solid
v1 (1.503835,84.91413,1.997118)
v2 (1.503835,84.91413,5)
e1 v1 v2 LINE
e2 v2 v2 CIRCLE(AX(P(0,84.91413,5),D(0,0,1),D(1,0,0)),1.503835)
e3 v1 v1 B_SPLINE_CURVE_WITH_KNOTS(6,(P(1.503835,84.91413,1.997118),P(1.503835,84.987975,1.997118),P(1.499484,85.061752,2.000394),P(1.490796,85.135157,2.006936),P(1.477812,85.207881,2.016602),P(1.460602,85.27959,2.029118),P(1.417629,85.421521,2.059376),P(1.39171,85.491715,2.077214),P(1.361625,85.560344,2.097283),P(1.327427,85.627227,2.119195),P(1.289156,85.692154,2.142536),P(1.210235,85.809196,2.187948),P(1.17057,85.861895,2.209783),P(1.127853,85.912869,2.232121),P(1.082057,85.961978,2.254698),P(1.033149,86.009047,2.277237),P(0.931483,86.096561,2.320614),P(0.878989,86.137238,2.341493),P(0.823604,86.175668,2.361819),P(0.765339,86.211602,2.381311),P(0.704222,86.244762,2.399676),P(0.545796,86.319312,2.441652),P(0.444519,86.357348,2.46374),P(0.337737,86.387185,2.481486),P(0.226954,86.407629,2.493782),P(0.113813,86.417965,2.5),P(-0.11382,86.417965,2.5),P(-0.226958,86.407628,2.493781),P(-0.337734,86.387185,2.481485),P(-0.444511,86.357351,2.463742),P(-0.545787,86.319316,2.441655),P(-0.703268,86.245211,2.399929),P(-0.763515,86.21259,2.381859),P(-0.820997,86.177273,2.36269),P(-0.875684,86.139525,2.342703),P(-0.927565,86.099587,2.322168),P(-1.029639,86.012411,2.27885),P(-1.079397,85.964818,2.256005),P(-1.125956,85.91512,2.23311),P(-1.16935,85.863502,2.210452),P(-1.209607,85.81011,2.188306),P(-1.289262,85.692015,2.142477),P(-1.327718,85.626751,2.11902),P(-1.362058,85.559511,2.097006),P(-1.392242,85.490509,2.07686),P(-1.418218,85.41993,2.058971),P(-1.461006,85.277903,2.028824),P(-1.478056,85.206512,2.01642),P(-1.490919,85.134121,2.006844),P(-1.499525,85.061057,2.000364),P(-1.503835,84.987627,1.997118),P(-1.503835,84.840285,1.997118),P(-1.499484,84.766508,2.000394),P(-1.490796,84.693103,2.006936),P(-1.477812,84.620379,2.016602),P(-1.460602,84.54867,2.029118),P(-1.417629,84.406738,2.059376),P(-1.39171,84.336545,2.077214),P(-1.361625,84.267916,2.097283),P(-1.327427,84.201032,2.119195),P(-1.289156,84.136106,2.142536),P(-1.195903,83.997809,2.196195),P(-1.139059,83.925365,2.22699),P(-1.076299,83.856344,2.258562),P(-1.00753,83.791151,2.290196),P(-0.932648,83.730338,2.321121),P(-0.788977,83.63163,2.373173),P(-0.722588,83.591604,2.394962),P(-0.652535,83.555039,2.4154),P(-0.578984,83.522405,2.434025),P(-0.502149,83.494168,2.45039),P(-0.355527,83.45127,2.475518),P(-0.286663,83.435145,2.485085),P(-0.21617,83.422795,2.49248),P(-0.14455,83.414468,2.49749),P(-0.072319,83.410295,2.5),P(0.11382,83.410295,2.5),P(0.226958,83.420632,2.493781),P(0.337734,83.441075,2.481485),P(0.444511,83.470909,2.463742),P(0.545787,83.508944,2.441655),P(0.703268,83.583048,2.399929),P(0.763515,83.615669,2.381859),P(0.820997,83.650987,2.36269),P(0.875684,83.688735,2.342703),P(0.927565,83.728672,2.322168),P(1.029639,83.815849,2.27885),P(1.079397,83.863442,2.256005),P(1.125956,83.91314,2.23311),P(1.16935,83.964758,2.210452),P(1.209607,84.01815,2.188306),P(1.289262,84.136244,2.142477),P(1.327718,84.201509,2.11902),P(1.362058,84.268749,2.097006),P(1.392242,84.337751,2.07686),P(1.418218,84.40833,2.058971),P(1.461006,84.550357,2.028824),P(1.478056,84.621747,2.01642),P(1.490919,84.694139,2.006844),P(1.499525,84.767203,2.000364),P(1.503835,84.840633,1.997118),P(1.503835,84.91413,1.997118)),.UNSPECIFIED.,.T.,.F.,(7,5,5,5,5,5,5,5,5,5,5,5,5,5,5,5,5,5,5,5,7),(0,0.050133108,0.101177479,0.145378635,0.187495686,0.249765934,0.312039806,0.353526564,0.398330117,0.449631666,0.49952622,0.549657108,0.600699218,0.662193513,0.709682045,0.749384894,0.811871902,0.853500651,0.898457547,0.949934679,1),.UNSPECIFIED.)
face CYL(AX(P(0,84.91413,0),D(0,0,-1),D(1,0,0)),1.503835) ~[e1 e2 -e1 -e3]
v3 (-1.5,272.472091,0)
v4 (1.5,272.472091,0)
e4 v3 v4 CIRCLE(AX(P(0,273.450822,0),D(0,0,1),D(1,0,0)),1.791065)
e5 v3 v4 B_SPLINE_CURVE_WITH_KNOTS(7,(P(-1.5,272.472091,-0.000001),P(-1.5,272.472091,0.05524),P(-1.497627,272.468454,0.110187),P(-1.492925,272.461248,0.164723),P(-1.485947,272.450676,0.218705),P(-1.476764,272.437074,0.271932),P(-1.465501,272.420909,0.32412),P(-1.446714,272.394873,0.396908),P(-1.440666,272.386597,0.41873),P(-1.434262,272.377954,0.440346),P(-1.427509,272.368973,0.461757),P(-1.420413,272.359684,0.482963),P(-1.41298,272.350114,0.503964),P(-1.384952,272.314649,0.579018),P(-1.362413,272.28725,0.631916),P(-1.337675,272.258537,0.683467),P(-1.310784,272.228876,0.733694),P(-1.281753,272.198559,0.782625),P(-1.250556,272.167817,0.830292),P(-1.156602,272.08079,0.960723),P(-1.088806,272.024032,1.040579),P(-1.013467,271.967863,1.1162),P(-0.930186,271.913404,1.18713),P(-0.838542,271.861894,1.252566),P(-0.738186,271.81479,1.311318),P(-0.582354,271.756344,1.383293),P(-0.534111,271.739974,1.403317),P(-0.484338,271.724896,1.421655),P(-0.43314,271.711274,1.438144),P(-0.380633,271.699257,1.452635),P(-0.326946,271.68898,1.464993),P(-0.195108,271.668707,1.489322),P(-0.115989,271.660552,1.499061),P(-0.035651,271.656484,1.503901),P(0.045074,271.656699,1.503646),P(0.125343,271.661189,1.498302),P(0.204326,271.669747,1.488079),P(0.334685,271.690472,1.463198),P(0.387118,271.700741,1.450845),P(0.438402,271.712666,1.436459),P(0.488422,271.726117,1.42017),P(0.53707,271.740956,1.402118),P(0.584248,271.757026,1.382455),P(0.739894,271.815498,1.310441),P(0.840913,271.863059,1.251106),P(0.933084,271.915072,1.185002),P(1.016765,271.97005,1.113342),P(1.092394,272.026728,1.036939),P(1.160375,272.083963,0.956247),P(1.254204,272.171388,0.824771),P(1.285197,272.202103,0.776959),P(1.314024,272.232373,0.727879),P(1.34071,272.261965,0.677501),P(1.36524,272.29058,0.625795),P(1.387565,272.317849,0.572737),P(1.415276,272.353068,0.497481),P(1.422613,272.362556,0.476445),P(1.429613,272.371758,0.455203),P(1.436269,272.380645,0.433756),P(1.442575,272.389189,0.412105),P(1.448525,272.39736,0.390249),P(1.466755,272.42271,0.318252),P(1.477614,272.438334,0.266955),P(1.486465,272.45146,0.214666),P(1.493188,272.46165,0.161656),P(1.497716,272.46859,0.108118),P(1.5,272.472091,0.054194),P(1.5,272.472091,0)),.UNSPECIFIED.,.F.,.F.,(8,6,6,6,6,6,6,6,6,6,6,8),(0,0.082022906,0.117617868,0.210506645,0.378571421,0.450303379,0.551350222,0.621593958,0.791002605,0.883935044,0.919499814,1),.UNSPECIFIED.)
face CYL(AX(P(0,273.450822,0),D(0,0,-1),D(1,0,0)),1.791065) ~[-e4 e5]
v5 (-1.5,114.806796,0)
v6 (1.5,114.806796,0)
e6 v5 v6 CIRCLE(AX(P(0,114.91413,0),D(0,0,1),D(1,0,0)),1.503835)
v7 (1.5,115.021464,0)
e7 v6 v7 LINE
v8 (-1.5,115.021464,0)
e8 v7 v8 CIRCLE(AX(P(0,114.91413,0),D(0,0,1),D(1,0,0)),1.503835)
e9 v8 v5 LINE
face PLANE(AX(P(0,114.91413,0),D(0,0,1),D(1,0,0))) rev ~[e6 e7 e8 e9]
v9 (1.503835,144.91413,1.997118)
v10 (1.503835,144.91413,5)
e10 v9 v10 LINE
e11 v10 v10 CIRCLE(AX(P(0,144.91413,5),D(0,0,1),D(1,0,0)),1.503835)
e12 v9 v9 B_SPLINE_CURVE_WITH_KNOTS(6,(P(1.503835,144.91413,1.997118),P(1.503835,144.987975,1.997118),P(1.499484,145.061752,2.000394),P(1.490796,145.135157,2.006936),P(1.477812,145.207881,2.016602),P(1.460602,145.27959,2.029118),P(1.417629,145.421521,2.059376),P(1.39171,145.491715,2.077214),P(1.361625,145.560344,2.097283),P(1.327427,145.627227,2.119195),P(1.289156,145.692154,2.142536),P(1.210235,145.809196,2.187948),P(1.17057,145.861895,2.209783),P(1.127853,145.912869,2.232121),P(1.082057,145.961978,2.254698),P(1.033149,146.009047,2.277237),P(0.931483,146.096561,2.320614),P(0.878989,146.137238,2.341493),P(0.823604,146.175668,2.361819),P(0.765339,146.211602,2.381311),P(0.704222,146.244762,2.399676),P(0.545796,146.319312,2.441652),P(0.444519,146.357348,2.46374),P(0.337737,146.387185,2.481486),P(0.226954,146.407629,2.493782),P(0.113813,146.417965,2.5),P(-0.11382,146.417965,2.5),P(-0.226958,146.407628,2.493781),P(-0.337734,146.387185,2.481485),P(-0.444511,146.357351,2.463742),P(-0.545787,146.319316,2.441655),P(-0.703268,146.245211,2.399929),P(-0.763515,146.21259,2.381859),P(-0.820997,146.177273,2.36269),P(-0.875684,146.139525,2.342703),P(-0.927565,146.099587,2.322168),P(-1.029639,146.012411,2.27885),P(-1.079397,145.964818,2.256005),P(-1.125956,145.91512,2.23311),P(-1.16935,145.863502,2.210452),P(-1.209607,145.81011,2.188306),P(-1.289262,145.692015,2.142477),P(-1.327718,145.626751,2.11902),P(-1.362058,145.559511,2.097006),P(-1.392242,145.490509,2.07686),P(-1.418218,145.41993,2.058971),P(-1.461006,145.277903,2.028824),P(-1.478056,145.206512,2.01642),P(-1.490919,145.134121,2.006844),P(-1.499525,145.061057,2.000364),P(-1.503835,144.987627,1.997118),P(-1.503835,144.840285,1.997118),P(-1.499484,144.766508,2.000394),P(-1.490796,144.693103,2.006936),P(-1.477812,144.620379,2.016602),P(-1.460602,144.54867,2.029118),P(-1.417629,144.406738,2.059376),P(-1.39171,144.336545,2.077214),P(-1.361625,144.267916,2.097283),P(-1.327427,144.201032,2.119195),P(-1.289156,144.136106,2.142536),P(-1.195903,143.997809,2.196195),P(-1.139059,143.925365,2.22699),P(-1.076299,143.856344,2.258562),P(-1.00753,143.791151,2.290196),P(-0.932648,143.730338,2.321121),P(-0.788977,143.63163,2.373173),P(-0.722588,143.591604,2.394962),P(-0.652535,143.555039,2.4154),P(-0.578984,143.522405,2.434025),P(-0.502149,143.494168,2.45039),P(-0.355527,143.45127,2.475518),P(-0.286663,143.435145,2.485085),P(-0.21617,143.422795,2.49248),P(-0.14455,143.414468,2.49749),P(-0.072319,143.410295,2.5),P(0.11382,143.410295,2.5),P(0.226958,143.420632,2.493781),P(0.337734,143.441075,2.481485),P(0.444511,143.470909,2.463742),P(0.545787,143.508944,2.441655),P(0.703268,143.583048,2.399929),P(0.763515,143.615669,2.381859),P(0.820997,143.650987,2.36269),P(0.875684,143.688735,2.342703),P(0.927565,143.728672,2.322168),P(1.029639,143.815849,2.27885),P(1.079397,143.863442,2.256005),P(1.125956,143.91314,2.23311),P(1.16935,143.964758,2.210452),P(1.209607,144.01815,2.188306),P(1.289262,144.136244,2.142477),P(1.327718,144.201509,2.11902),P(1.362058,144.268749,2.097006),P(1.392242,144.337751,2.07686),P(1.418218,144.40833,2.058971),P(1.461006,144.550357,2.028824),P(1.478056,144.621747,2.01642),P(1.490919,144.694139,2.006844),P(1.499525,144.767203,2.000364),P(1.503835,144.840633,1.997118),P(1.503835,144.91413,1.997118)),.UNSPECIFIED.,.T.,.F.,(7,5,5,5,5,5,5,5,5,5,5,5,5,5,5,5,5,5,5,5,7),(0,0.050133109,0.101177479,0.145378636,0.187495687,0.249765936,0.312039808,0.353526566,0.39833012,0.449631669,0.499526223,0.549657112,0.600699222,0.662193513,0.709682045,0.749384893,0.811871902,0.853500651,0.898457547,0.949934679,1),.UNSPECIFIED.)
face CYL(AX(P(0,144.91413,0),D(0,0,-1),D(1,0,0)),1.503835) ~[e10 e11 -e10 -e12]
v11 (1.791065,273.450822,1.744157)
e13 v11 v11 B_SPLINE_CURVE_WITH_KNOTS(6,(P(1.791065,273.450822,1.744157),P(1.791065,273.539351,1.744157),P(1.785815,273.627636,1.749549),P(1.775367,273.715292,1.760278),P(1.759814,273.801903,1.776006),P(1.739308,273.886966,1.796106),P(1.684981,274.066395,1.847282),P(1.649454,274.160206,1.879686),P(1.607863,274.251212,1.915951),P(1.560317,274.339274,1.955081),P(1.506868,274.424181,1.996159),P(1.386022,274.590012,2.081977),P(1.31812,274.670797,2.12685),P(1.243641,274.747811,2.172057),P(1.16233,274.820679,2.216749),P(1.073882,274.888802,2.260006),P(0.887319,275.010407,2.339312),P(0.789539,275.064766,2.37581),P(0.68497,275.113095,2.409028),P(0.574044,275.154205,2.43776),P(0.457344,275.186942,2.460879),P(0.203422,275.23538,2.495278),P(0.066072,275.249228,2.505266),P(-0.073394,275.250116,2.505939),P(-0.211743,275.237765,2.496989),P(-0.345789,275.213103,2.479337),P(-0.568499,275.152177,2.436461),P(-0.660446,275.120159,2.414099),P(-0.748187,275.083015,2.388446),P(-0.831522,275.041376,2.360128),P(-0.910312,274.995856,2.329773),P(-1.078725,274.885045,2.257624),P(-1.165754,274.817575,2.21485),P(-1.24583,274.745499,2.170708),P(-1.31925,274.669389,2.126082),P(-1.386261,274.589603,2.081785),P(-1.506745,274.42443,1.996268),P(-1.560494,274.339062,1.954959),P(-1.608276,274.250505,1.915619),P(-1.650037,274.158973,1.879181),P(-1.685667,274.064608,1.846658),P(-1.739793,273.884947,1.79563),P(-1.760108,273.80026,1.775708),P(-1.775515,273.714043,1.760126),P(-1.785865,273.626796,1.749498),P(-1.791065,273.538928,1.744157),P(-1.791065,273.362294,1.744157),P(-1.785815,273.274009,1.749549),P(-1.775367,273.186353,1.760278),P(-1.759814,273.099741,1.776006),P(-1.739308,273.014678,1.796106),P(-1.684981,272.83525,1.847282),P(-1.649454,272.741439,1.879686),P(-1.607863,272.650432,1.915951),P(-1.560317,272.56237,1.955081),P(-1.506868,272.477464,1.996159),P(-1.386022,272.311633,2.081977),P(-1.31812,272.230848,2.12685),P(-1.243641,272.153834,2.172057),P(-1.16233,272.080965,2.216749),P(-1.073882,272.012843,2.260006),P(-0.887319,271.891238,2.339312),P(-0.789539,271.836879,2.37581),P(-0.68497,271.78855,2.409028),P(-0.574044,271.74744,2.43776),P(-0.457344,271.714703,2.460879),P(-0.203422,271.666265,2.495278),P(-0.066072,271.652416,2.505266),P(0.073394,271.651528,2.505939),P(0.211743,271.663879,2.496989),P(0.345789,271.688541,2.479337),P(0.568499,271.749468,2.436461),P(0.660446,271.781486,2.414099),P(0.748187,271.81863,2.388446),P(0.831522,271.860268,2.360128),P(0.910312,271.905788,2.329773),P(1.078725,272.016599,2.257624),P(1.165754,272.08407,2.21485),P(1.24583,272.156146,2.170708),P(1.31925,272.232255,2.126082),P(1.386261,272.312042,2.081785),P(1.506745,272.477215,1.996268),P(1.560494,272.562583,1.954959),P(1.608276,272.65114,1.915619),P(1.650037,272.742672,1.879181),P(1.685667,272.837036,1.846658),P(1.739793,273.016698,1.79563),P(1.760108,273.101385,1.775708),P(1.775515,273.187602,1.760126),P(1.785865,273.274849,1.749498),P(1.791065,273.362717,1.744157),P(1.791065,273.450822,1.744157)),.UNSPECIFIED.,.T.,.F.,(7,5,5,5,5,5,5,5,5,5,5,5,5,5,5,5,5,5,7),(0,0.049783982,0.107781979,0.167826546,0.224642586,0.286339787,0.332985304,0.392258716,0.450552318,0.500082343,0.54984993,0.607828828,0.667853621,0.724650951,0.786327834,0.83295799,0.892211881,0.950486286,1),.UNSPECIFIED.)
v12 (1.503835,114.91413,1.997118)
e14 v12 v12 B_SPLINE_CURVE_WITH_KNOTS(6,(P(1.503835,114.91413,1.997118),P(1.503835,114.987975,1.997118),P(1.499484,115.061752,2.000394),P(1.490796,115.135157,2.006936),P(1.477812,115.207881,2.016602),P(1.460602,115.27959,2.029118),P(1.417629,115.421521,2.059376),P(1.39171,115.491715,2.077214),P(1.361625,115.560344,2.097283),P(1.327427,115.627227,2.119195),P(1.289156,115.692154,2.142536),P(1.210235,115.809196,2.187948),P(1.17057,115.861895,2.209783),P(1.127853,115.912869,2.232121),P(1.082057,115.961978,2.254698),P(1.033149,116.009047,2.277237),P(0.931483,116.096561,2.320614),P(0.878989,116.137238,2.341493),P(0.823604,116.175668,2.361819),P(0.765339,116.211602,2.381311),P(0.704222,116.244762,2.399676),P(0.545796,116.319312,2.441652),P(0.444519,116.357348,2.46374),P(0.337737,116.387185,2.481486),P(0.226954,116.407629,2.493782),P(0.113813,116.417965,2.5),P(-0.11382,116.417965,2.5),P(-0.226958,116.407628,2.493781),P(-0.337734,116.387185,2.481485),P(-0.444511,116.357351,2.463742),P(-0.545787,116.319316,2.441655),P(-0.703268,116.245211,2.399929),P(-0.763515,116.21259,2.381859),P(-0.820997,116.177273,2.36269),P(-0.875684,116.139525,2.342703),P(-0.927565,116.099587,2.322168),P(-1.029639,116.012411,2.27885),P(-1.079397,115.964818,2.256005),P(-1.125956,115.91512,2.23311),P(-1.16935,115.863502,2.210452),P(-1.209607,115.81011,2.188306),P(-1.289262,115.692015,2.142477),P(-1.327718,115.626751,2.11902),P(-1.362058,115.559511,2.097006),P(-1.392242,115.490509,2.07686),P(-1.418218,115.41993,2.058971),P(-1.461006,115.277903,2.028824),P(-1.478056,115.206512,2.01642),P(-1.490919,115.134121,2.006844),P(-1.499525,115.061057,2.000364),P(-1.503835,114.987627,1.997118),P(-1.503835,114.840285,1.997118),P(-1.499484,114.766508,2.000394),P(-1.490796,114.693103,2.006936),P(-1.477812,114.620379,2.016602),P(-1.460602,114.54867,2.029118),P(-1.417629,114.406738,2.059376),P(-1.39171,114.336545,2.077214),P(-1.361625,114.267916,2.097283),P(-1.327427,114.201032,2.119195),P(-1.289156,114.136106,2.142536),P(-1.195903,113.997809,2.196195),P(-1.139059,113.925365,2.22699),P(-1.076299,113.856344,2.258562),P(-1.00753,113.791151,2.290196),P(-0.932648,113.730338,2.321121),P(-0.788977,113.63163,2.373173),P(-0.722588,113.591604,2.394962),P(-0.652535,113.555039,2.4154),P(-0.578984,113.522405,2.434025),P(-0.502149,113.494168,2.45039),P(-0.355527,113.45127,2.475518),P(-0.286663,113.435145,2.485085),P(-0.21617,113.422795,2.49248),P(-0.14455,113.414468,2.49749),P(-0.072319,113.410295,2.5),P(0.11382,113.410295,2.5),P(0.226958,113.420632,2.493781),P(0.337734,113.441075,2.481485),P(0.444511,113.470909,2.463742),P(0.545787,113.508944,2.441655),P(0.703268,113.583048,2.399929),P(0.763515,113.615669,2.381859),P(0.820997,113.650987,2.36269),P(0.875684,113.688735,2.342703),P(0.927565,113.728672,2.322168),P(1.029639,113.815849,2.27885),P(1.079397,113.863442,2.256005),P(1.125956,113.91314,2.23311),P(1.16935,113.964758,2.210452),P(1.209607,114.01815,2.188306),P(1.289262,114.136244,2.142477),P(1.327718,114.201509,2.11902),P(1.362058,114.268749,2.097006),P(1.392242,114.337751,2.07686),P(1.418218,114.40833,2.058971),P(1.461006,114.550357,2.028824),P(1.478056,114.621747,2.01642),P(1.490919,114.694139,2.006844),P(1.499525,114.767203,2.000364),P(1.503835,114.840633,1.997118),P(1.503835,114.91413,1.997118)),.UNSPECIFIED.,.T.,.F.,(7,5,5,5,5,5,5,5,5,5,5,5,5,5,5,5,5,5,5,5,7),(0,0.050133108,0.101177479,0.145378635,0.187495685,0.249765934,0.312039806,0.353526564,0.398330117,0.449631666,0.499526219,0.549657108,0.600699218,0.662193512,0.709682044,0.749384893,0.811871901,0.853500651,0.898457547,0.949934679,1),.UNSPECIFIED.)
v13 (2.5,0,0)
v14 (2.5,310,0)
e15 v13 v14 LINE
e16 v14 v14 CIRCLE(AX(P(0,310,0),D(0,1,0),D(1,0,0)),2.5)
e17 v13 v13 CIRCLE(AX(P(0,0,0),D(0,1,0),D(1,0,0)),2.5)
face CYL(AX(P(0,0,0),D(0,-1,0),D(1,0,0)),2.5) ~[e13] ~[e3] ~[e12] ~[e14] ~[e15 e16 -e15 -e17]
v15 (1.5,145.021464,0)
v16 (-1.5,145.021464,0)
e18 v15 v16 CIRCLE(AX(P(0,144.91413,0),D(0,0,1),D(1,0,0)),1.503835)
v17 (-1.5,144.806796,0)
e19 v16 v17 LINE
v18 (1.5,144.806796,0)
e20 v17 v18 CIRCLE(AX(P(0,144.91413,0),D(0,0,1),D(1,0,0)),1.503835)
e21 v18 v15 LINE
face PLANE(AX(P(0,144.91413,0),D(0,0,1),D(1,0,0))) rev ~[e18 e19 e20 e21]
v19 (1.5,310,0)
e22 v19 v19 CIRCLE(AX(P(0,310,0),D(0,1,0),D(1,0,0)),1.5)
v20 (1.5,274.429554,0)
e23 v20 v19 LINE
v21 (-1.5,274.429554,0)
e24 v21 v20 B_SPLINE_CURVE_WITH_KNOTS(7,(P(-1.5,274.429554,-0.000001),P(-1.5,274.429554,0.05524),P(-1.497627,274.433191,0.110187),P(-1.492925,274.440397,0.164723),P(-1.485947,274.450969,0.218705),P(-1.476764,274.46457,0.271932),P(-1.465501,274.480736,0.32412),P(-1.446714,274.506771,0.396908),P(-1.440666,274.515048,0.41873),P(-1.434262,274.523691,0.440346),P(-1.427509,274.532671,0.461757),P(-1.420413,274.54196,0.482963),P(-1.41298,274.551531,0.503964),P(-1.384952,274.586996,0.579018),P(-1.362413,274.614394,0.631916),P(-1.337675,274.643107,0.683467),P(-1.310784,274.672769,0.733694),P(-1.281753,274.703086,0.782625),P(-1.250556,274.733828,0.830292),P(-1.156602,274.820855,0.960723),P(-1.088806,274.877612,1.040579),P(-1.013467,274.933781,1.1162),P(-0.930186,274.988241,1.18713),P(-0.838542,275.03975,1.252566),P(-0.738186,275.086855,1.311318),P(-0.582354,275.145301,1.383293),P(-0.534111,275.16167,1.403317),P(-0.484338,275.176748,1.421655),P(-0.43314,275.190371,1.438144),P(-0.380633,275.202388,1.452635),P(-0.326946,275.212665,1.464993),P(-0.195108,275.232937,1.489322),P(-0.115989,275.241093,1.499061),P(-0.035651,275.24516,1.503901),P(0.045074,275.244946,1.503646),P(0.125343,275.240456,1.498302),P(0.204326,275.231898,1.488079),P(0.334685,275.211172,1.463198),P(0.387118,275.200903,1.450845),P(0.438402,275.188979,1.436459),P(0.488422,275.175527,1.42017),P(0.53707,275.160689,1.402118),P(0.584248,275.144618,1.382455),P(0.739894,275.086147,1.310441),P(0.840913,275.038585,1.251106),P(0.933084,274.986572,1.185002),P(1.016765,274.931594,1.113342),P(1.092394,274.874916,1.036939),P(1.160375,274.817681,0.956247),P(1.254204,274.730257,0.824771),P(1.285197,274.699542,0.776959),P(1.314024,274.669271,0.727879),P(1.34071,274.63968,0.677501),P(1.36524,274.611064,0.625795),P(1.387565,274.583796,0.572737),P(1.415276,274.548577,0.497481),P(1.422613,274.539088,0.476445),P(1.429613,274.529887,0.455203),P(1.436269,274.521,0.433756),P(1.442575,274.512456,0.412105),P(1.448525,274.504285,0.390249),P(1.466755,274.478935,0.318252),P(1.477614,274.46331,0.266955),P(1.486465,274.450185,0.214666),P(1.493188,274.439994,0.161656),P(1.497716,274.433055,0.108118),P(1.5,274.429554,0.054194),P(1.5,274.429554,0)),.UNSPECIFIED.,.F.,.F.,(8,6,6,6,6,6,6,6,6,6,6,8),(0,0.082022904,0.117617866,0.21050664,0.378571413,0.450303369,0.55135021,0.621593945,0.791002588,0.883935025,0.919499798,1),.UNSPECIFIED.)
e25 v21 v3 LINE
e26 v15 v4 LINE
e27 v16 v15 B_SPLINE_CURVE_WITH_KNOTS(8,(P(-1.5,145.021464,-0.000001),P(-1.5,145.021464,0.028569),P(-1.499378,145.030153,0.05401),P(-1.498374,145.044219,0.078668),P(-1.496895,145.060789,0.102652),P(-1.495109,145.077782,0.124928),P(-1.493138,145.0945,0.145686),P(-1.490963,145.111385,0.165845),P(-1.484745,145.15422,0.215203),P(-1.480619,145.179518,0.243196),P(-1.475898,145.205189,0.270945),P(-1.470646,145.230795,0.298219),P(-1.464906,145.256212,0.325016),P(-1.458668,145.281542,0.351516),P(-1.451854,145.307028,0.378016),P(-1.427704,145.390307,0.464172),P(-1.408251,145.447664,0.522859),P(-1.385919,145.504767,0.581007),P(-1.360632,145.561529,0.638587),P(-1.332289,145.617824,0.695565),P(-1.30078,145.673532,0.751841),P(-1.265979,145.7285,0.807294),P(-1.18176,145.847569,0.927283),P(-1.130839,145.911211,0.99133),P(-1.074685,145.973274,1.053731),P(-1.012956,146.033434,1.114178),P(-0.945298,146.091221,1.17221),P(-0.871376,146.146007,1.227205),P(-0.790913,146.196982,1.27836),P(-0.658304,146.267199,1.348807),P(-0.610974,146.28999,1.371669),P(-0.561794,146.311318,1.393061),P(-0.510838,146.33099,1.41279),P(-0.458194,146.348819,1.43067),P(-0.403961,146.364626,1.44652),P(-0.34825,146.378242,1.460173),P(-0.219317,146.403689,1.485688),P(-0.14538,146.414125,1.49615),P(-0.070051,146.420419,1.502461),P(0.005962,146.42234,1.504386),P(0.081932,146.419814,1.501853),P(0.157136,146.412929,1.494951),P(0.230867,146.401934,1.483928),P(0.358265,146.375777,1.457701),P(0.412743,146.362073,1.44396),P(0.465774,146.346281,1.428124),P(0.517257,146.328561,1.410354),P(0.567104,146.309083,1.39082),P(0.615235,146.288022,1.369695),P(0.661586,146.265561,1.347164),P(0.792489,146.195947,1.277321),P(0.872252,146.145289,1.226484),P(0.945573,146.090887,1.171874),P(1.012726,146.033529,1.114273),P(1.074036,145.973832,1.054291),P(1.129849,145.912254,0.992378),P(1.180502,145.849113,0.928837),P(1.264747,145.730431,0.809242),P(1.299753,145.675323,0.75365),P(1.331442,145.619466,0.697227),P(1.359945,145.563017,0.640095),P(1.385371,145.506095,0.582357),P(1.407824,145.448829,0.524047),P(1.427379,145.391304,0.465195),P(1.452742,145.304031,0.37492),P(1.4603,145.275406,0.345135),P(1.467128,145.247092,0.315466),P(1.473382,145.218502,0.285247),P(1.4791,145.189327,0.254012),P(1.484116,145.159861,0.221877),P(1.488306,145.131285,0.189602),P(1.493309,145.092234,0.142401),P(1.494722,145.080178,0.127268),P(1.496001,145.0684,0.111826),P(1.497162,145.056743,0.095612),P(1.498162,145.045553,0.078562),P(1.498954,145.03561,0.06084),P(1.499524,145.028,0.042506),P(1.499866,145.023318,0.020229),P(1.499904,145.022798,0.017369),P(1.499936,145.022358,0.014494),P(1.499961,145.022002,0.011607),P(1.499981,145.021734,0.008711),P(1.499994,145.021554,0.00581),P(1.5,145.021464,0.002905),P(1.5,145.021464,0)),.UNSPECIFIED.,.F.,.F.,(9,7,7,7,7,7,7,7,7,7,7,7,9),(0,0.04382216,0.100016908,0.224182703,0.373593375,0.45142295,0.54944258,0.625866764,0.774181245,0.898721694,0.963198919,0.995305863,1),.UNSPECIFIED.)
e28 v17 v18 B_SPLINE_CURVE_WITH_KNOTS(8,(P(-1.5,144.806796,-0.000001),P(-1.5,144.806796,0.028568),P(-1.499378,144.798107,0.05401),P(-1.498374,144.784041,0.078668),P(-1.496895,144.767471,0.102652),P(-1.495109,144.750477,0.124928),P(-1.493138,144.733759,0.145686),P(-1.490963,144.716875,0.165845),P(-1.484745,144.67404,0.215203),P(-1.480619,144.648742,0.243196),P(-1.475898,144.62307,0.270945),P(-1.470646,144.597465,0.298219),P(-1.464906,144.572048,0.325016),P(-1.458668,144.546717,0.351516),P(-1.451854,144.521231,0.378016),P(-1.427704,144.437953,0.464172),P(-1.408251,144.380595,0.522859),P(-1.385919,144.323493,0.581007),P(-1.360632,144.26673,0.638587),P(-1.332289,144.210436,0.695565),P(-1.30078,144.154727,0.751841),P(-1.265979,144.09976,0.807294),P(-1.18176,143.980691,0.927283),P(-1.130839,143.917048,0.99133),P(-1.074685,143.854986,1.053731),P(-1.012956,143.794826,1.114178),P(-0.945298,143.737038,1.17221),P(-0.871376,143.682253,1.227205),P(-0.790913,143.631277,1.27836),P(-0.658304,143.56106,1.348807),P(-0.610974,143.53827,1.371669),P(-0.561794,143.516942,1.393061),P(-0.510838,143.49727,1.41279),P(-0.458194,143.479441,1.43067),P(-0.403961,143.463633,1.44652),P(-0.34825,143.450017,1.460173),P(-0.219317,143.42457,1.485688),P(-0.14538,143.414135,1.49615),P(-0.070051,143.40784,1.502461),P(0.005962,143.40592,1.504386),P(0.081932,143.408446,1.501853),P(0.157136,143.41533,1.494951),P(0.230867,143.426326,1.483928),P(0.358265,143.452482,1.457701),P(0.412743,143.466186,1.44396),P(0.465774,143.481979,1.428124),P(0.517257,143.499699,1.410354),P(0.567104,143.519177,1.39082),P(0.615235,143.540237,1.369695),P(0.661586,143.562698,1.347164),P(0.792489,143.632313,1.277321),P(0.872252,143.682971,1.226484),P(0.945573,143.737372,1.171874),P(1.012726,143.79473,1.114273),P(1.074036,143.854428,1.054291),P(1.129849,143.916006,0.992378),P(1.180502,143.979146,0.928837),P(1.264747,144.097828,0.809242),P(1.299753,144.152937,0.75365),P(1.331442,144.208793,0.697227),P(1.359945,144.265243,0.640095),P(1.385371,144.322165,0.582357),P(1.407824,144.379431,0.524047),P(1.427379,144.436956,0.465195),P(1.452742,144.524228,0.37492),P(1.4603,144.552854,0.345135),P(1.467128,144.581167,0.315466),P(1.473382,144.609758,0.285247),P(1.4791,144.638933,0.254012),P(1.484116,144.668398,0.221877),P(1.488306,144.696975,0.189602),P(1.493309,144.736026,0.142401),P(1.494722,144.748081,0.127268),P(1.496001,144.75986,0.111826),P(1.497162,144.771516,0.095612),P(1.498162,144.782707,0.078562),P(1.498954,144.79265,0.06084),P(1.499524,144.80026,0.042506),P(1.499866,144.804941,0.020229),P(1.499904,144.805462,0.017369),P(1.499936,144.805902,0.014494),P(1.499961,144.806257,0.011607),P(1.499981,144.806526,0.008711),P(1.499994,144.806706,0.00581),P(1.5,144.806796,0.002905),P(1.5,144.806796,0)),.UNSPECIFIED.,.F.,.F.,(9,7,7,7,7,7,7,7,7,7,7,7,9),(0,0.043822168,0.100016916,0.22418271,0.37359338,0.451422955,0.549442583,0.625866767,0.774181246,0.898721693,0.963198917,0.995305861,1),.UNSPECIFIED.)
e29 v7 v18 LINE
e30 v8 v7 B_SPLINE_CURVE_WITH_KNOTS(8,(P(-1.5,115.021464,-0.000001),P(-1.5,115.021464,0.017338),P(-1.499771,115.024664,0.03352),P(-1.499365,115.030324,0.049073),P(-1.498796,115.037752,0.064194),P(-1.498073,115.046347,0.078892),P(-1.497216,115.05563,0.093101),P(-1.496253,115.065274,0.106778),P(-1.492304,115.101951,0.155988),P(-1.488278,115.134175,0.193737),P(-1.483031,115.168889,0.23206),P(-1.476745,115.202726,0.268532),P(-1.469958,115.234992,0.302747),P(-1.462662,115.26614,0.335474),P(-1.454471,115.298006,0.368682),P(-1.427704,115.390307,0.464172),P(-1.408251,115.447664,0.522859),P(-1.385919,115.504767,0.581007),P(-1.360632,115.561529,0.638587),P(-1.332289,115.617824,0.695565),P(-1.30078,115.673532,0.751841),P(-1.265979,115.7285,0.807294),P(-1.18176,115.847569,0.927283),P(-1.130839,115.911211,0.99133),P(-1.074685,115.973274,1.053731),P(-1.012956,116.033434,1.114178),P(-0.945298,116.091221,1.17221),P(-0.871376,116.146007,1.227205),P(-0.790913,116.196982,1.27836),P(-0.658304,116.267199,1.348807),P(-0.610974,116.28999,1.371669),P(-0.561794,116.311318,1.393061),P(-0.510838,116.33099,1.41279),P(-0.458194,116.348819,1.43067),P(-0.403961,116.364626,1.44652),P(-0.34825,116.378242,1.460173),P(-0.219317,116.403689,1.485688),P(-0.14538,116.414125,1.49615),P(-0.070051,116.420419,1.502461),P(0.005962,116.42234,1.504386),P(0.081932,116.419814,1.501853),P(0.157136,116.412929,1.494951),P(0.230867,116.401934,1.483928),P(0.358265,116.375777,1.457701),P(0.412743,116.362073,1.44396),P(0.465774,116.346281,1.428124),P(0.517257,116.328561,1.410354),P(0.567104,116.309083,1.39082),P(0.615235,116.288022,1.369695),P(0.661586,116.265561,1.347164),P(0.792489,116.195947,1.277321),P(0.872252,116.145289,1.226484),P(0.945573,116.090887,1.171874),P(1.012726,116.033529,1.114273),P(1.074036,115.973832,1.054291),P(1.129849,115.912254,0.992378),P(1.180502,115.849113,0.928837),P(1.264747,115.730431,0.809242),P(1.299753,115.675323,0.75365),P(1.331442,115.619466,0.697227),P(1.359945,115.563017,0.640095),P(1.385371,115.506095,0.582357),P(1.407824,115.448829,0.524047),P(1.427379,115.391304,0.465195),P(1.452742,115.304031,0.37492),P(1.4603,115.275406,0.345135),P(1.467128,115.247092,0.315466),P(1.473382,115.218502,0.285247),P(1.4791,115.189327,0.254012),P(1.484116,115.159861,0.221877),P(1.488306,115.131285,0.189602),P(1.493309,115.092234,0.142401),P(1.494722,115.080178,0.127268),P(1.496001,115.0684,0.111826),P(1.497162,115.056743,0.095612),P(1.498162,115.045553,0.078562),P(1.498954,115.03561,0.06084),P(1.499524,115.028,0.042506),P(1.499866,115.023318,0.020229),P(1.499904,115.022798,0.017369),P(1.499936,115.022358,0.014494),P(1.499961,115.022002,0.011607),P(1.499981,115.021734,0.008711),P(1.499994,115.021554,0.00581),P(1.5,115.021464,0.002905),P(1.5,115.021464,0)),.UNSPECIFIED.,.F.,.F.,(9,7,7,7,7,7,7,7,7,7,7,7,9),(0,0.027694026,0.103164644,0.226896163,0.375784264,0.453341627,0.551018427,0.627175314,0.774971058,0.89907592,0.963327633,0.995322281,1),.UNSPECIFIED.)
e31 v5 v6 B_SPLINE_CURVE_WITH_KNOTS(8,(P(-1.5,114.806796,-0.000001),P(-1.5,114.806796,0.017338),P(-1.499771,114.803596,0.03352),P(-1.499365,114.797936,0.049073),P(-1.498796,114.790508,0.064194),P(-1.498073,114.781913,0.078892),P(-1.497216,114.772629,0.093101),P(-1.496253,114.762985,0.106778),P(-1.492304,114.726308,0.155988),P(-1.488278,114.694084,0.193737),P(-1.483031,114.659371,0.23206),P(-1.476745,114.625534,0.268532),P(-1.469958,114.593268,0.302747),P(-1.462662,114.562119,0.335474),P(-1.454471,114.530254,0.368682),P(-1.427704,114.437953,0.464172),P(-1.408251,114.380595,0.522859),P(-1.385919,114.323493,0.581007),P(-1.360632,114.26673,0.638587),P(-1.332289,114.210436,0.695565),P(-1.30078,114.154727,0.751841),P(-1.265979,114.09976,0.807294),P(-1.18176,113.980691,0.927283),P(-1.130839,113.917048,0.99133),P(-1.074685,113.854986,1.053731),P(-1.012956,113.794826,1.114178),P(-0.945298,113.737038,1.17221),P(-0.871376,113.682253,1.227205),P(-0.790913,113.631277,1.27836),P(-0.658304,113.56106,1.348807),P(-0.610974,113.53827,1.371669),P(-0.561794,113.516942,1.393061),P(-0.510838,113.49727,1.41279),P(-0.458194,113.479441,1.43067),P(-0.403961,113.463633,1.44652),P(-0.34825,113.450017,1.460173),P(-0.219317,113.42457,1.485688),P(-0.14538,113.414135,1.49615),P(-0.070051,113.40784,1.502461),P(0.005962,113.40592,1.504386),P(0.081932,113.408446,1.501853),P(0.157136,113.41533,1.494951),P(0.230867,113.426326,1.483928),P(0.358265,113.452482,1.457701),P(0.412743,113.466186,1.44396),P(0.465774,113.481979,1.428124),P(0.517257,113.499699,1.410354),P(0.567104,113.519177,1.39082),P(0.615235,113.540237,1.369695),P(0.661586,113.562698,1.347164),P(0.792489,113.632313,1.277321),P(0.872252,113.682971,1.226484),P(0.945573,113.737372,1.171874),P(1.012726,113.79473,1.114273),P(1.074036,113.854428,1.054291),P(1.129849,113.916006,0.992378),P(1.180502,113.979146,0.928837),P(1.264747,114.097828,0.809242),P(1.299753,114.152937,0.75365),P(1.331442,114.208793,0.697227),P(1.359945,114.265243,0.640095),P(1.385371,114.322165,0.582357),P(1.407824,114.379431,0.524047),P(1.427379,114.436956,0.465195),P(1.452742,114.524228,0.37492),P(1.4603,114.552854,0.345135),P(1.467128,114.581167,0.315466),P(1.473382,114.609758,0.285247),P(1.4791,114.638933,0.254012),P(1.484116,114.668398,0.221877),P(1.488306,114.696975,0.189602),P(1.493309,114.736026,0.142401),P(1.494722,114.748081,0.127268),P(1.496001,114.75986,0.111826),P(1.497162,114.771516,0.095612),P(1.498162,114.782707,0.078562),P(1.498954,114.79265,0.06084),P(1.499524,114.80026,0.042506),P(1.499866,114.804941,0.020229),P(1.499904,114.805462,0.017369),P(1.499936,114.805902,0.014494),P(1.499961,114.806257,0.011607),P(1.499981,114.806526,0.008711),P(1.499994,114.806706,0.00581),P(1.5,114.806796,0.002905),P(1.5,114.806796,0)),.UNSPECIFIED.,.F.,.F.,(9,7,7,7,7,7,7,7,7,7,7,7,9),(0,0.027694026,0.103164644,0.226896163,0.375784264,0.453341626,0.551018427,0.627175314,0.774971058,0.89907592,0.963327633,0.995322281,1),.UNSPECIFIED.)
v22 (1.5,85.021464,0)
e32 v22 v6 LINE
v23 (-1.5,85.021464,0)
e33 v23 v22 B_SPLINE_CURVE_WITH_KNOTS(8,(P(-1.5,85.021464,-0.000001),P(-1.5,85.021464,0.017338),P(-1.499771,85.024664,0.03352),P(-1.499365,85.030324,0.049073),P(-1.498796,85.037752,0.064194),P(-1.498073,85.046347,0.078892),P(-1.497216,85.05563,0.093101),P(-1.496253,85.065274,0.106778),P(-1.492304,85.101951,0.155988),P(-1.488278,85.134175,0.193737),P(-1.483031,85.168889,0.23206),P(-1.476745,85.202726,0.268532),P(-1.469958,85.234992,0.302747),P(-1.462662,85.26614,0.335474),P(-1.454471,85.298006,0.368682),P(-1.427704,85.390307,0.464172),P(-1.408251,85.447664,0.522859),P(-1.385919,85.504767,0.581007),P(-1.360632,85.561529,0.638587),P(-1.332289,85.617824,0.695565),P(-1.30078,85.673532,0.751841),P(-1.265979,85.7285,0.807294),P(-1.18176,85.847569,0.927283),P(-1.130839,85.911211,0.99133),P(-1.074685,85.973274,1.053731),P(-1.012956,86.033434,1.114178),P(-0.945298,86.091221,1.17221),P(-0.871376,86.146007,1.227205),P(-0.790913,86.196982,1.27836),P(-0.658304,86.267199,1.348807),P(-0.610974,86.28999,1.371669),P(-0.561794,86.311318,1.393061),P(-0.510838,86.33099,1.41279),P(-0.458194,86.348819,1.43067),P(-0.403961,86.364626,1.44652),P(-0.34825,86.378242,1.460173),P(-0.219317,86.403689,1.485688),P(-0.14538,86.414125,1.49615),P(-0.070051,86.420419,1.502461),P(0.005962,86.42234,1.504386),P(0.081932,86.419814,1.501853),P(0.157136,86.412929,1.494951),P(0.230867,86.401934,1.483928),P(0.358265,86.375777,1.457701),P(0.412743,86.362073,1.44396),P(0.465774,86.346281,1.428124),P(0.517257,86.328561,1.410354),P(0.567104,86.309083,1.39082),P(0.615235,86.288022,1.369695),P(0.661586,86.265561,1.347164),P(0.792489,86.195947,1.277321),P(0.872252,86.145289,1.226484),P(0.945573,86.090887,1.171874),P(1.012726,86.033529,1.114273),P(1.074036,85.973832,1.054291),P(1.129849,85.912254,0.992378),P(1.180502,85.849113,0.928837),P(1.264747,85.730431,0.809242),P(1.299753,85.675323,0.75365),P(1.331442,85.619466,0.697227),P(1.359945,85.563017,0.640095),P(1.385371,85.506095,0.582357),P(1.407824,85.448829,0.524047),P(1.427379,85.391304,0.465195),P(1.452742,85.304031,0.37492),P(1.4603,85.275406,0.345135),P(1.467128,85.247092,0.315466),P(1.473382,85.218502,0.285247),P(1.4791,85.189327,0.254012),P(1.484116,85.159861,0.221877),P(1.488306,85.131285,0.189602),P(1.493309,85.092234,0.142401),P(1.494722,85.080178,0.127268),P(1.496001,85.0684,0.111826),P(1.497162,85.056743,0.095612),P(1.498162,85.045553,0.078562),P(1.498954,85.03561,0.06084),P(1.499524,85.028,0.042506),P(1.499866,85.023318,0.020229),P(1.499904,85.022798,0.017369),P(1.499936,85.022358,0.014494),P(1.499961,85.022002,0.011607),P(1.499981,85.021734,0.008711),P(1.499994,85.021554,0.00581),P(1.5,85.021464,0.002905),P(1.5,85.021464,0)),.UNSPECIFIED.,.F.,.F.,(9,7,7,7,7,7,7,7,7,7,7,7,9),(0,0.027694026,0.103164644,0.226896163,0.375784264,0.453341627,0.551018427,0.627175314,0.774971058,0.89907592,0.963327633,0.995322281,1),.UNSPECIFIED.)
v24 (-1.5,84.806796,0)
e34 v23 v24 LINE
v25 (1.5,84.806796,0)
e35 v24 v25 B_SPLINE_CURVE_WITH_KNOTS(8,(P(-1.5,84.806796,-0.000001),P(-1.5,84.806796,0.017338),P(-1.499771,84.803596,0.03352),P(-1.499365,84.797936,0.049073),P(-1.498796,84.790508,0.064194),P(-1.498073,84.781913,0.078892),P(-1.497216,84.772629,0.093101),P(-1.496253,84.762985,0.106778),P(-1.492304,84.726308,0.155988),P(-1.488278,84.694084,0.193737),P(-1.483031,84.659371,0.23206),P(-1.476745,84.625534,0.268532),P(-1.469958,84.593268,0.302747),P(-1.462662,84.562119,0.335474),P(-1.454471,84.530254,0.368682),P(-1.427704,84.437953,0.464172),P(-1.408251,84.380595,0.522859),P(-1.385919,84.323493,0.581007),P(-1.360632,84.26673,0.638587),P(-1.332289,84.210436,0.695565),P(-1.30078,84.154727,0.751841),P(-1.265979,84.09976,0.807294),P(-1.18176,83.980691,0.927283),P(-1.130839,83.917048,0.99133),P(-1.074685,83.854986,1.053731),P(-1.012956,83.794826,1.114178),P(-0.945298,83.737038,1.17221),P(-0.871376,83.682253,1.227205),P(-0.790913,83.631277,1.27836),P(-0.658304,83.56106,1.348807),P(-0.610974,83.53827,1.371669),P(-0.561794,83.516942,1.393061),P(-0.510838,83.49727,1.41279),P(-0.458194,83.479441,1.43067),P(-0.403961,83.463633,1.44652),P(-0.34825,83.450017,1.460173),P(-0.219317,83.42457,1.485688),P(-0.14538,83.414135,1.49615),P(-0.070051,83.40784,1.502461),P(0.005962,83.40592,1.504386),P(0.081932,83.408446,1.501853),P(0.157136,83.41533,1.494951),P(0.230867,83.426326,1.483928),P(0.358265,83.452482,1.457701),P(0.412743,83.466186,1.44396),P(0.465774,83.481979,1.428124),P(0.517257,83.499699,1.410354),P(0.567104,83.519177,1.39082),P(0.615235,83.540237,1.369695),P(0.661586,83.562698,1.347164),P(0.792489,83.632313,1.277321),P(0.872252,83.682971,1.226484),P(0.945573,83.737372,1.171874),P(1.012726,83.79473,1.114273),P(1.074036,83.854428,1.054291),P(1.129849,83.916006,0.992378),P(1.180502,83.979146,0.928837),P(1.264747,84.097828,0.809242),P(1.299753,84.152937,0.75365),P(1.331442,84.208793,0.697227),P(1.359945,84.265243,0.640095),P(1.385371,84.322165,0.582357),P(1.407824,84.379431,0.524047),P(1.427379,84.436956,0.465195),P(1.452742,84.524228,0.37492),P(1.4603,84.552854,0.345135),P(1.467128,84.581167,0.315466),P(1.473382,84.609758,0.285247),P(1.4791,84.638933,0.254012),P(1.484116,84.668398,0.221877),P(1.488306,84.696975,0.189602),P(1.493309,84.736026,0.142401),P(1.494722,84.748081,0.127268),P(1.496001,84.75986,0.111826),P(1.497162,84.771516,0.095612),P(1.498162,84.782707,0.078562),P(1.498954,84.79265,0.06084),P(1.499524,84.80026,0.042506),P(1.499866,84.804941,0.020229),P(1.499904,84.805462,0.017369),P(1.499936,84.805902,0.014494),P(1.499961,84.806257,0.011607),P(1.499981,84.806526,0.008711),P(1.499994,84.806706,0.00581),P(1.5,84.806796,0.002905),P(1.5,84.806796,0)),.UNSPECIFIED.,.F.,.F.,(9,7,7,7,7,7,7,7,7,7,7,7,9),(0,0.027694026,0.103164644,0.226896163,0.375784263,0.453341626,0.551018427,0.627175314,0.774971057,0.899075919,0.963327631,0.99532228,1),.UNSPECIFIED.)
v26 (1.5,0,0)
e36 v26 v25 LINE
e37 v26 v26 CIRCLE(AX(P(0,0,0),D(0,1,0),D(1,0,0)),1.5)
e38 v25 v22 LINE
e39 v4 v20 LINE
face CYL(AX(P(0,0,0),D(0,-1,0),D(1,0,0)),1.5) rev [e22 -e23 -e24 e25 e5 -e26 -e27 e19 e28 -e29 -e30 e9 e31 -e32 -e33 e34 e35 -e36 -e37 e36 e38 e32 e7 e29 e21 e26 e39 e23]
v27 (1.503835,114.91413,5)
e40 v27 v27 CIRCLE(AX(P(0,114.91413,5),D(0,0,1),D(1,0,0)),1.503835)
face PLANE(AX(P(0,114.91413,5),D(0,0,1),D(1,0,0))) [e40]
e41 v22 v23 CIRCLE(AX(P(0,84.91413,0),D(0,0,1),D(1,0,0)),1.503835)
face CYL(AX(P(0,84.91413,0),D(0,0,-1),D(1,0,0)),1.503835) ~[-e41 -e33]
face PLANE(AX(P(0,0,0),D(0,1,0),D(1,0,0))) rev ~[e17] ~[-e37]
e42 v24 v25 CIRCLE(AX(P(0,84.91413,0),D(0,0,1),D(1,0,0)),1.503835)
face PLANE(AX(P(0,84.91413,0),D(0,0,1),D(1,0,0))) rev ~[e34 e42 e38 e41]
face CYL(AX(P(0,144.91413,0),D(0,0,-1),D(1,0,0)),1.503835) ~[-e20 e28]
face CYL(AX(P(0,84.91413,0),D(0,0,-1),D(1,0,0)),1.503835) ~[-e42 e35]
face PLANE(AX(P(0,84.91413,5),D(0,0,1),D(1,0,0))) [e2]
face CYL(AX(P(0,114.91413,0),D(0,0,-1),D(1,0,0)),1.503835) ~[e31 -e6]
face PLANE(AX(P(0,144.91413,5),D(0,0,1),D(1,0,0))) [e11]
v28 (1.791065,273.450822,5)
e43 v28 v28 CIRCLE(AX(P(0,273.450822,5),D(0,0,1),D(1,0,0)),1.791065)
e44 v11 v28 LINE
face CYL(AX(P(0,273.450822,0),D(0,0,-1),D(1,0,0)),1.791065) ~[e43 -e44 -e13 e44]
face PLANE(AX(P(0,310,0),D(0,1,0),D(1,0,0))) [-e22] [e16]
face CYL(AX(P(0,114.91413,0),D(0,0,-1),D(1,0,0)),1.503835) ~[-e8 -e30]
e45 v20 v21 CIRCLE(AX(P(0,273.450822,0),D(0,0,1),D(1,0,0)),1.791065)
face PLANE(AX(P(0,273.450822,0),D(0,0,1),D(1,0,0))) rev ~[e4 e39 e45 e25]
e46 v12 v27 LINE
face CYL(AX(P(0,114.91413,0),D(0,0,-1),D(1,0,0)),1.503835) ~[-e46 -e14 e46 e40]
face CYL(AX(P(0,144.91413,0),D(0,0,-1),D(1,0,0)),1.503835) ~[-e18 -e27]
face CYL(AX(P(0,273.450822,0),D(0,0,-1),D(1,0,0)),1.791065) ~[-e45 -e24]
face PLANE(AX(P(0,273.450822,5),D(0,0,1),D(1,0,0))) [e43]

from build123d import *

# Parameters (mm, degrees)
SKETCH1_R           = 2.5
SKETCH1_R_2         = 1.5
BOSS_EXTRUDE1_DEPTH = 310
SKETCH2_R           = 1.503835311
BOSS_EXTRUDE2_DEPTH = 5
LPATTERN1_COUNT     = 3
LPATTERN1_PITCH     = 30
SKETCH3_R           = 1.791065429
BOSS_EXTRUDE3_DEPTH = 5


with BuildPart() as part:
    # Sketch1 → Boss-Extrude1 (new body)
    with BuildSketch(Plane(origin=(0, 0, 0), x_dir=(1, 0, 0), z_dir=(0, 1, 0))):
        Circle(SKETCH1_R)
        Circle(SKETCH1_R_2, mode=Mode.SUBTRACT)
    extrude(amount=BOSS_EXTRUDE1_DEPTH)

    # Sketch2 → Boss-Extrude2 (add)
    with BuildSketch(Plane.XY):
        with Locations((0, 84.914129816)):
            Circle(SKETCH2_R)
    boss_extrude2 = extrude(amount=BOSS_EXTRUDE2_DEPTH)

    # LPattern1: Boss-Extrude2 ×3
    with Locations(*[(0, i * LPATTERN1_PITCH, 0) for i in range(1, LPATTERN1_COUNT)]):
        add(boss_extrude2)

    # Sketch3 → Boss-Extrude3 (add)
    with BuildSketch(Plane.XY):
        with Locations((0, 273.450822339)):
            Circle(SKETCH3_R)
    extrude(amount=BOSS_EXTRUDE3_DEPTH)


solid = part.part
